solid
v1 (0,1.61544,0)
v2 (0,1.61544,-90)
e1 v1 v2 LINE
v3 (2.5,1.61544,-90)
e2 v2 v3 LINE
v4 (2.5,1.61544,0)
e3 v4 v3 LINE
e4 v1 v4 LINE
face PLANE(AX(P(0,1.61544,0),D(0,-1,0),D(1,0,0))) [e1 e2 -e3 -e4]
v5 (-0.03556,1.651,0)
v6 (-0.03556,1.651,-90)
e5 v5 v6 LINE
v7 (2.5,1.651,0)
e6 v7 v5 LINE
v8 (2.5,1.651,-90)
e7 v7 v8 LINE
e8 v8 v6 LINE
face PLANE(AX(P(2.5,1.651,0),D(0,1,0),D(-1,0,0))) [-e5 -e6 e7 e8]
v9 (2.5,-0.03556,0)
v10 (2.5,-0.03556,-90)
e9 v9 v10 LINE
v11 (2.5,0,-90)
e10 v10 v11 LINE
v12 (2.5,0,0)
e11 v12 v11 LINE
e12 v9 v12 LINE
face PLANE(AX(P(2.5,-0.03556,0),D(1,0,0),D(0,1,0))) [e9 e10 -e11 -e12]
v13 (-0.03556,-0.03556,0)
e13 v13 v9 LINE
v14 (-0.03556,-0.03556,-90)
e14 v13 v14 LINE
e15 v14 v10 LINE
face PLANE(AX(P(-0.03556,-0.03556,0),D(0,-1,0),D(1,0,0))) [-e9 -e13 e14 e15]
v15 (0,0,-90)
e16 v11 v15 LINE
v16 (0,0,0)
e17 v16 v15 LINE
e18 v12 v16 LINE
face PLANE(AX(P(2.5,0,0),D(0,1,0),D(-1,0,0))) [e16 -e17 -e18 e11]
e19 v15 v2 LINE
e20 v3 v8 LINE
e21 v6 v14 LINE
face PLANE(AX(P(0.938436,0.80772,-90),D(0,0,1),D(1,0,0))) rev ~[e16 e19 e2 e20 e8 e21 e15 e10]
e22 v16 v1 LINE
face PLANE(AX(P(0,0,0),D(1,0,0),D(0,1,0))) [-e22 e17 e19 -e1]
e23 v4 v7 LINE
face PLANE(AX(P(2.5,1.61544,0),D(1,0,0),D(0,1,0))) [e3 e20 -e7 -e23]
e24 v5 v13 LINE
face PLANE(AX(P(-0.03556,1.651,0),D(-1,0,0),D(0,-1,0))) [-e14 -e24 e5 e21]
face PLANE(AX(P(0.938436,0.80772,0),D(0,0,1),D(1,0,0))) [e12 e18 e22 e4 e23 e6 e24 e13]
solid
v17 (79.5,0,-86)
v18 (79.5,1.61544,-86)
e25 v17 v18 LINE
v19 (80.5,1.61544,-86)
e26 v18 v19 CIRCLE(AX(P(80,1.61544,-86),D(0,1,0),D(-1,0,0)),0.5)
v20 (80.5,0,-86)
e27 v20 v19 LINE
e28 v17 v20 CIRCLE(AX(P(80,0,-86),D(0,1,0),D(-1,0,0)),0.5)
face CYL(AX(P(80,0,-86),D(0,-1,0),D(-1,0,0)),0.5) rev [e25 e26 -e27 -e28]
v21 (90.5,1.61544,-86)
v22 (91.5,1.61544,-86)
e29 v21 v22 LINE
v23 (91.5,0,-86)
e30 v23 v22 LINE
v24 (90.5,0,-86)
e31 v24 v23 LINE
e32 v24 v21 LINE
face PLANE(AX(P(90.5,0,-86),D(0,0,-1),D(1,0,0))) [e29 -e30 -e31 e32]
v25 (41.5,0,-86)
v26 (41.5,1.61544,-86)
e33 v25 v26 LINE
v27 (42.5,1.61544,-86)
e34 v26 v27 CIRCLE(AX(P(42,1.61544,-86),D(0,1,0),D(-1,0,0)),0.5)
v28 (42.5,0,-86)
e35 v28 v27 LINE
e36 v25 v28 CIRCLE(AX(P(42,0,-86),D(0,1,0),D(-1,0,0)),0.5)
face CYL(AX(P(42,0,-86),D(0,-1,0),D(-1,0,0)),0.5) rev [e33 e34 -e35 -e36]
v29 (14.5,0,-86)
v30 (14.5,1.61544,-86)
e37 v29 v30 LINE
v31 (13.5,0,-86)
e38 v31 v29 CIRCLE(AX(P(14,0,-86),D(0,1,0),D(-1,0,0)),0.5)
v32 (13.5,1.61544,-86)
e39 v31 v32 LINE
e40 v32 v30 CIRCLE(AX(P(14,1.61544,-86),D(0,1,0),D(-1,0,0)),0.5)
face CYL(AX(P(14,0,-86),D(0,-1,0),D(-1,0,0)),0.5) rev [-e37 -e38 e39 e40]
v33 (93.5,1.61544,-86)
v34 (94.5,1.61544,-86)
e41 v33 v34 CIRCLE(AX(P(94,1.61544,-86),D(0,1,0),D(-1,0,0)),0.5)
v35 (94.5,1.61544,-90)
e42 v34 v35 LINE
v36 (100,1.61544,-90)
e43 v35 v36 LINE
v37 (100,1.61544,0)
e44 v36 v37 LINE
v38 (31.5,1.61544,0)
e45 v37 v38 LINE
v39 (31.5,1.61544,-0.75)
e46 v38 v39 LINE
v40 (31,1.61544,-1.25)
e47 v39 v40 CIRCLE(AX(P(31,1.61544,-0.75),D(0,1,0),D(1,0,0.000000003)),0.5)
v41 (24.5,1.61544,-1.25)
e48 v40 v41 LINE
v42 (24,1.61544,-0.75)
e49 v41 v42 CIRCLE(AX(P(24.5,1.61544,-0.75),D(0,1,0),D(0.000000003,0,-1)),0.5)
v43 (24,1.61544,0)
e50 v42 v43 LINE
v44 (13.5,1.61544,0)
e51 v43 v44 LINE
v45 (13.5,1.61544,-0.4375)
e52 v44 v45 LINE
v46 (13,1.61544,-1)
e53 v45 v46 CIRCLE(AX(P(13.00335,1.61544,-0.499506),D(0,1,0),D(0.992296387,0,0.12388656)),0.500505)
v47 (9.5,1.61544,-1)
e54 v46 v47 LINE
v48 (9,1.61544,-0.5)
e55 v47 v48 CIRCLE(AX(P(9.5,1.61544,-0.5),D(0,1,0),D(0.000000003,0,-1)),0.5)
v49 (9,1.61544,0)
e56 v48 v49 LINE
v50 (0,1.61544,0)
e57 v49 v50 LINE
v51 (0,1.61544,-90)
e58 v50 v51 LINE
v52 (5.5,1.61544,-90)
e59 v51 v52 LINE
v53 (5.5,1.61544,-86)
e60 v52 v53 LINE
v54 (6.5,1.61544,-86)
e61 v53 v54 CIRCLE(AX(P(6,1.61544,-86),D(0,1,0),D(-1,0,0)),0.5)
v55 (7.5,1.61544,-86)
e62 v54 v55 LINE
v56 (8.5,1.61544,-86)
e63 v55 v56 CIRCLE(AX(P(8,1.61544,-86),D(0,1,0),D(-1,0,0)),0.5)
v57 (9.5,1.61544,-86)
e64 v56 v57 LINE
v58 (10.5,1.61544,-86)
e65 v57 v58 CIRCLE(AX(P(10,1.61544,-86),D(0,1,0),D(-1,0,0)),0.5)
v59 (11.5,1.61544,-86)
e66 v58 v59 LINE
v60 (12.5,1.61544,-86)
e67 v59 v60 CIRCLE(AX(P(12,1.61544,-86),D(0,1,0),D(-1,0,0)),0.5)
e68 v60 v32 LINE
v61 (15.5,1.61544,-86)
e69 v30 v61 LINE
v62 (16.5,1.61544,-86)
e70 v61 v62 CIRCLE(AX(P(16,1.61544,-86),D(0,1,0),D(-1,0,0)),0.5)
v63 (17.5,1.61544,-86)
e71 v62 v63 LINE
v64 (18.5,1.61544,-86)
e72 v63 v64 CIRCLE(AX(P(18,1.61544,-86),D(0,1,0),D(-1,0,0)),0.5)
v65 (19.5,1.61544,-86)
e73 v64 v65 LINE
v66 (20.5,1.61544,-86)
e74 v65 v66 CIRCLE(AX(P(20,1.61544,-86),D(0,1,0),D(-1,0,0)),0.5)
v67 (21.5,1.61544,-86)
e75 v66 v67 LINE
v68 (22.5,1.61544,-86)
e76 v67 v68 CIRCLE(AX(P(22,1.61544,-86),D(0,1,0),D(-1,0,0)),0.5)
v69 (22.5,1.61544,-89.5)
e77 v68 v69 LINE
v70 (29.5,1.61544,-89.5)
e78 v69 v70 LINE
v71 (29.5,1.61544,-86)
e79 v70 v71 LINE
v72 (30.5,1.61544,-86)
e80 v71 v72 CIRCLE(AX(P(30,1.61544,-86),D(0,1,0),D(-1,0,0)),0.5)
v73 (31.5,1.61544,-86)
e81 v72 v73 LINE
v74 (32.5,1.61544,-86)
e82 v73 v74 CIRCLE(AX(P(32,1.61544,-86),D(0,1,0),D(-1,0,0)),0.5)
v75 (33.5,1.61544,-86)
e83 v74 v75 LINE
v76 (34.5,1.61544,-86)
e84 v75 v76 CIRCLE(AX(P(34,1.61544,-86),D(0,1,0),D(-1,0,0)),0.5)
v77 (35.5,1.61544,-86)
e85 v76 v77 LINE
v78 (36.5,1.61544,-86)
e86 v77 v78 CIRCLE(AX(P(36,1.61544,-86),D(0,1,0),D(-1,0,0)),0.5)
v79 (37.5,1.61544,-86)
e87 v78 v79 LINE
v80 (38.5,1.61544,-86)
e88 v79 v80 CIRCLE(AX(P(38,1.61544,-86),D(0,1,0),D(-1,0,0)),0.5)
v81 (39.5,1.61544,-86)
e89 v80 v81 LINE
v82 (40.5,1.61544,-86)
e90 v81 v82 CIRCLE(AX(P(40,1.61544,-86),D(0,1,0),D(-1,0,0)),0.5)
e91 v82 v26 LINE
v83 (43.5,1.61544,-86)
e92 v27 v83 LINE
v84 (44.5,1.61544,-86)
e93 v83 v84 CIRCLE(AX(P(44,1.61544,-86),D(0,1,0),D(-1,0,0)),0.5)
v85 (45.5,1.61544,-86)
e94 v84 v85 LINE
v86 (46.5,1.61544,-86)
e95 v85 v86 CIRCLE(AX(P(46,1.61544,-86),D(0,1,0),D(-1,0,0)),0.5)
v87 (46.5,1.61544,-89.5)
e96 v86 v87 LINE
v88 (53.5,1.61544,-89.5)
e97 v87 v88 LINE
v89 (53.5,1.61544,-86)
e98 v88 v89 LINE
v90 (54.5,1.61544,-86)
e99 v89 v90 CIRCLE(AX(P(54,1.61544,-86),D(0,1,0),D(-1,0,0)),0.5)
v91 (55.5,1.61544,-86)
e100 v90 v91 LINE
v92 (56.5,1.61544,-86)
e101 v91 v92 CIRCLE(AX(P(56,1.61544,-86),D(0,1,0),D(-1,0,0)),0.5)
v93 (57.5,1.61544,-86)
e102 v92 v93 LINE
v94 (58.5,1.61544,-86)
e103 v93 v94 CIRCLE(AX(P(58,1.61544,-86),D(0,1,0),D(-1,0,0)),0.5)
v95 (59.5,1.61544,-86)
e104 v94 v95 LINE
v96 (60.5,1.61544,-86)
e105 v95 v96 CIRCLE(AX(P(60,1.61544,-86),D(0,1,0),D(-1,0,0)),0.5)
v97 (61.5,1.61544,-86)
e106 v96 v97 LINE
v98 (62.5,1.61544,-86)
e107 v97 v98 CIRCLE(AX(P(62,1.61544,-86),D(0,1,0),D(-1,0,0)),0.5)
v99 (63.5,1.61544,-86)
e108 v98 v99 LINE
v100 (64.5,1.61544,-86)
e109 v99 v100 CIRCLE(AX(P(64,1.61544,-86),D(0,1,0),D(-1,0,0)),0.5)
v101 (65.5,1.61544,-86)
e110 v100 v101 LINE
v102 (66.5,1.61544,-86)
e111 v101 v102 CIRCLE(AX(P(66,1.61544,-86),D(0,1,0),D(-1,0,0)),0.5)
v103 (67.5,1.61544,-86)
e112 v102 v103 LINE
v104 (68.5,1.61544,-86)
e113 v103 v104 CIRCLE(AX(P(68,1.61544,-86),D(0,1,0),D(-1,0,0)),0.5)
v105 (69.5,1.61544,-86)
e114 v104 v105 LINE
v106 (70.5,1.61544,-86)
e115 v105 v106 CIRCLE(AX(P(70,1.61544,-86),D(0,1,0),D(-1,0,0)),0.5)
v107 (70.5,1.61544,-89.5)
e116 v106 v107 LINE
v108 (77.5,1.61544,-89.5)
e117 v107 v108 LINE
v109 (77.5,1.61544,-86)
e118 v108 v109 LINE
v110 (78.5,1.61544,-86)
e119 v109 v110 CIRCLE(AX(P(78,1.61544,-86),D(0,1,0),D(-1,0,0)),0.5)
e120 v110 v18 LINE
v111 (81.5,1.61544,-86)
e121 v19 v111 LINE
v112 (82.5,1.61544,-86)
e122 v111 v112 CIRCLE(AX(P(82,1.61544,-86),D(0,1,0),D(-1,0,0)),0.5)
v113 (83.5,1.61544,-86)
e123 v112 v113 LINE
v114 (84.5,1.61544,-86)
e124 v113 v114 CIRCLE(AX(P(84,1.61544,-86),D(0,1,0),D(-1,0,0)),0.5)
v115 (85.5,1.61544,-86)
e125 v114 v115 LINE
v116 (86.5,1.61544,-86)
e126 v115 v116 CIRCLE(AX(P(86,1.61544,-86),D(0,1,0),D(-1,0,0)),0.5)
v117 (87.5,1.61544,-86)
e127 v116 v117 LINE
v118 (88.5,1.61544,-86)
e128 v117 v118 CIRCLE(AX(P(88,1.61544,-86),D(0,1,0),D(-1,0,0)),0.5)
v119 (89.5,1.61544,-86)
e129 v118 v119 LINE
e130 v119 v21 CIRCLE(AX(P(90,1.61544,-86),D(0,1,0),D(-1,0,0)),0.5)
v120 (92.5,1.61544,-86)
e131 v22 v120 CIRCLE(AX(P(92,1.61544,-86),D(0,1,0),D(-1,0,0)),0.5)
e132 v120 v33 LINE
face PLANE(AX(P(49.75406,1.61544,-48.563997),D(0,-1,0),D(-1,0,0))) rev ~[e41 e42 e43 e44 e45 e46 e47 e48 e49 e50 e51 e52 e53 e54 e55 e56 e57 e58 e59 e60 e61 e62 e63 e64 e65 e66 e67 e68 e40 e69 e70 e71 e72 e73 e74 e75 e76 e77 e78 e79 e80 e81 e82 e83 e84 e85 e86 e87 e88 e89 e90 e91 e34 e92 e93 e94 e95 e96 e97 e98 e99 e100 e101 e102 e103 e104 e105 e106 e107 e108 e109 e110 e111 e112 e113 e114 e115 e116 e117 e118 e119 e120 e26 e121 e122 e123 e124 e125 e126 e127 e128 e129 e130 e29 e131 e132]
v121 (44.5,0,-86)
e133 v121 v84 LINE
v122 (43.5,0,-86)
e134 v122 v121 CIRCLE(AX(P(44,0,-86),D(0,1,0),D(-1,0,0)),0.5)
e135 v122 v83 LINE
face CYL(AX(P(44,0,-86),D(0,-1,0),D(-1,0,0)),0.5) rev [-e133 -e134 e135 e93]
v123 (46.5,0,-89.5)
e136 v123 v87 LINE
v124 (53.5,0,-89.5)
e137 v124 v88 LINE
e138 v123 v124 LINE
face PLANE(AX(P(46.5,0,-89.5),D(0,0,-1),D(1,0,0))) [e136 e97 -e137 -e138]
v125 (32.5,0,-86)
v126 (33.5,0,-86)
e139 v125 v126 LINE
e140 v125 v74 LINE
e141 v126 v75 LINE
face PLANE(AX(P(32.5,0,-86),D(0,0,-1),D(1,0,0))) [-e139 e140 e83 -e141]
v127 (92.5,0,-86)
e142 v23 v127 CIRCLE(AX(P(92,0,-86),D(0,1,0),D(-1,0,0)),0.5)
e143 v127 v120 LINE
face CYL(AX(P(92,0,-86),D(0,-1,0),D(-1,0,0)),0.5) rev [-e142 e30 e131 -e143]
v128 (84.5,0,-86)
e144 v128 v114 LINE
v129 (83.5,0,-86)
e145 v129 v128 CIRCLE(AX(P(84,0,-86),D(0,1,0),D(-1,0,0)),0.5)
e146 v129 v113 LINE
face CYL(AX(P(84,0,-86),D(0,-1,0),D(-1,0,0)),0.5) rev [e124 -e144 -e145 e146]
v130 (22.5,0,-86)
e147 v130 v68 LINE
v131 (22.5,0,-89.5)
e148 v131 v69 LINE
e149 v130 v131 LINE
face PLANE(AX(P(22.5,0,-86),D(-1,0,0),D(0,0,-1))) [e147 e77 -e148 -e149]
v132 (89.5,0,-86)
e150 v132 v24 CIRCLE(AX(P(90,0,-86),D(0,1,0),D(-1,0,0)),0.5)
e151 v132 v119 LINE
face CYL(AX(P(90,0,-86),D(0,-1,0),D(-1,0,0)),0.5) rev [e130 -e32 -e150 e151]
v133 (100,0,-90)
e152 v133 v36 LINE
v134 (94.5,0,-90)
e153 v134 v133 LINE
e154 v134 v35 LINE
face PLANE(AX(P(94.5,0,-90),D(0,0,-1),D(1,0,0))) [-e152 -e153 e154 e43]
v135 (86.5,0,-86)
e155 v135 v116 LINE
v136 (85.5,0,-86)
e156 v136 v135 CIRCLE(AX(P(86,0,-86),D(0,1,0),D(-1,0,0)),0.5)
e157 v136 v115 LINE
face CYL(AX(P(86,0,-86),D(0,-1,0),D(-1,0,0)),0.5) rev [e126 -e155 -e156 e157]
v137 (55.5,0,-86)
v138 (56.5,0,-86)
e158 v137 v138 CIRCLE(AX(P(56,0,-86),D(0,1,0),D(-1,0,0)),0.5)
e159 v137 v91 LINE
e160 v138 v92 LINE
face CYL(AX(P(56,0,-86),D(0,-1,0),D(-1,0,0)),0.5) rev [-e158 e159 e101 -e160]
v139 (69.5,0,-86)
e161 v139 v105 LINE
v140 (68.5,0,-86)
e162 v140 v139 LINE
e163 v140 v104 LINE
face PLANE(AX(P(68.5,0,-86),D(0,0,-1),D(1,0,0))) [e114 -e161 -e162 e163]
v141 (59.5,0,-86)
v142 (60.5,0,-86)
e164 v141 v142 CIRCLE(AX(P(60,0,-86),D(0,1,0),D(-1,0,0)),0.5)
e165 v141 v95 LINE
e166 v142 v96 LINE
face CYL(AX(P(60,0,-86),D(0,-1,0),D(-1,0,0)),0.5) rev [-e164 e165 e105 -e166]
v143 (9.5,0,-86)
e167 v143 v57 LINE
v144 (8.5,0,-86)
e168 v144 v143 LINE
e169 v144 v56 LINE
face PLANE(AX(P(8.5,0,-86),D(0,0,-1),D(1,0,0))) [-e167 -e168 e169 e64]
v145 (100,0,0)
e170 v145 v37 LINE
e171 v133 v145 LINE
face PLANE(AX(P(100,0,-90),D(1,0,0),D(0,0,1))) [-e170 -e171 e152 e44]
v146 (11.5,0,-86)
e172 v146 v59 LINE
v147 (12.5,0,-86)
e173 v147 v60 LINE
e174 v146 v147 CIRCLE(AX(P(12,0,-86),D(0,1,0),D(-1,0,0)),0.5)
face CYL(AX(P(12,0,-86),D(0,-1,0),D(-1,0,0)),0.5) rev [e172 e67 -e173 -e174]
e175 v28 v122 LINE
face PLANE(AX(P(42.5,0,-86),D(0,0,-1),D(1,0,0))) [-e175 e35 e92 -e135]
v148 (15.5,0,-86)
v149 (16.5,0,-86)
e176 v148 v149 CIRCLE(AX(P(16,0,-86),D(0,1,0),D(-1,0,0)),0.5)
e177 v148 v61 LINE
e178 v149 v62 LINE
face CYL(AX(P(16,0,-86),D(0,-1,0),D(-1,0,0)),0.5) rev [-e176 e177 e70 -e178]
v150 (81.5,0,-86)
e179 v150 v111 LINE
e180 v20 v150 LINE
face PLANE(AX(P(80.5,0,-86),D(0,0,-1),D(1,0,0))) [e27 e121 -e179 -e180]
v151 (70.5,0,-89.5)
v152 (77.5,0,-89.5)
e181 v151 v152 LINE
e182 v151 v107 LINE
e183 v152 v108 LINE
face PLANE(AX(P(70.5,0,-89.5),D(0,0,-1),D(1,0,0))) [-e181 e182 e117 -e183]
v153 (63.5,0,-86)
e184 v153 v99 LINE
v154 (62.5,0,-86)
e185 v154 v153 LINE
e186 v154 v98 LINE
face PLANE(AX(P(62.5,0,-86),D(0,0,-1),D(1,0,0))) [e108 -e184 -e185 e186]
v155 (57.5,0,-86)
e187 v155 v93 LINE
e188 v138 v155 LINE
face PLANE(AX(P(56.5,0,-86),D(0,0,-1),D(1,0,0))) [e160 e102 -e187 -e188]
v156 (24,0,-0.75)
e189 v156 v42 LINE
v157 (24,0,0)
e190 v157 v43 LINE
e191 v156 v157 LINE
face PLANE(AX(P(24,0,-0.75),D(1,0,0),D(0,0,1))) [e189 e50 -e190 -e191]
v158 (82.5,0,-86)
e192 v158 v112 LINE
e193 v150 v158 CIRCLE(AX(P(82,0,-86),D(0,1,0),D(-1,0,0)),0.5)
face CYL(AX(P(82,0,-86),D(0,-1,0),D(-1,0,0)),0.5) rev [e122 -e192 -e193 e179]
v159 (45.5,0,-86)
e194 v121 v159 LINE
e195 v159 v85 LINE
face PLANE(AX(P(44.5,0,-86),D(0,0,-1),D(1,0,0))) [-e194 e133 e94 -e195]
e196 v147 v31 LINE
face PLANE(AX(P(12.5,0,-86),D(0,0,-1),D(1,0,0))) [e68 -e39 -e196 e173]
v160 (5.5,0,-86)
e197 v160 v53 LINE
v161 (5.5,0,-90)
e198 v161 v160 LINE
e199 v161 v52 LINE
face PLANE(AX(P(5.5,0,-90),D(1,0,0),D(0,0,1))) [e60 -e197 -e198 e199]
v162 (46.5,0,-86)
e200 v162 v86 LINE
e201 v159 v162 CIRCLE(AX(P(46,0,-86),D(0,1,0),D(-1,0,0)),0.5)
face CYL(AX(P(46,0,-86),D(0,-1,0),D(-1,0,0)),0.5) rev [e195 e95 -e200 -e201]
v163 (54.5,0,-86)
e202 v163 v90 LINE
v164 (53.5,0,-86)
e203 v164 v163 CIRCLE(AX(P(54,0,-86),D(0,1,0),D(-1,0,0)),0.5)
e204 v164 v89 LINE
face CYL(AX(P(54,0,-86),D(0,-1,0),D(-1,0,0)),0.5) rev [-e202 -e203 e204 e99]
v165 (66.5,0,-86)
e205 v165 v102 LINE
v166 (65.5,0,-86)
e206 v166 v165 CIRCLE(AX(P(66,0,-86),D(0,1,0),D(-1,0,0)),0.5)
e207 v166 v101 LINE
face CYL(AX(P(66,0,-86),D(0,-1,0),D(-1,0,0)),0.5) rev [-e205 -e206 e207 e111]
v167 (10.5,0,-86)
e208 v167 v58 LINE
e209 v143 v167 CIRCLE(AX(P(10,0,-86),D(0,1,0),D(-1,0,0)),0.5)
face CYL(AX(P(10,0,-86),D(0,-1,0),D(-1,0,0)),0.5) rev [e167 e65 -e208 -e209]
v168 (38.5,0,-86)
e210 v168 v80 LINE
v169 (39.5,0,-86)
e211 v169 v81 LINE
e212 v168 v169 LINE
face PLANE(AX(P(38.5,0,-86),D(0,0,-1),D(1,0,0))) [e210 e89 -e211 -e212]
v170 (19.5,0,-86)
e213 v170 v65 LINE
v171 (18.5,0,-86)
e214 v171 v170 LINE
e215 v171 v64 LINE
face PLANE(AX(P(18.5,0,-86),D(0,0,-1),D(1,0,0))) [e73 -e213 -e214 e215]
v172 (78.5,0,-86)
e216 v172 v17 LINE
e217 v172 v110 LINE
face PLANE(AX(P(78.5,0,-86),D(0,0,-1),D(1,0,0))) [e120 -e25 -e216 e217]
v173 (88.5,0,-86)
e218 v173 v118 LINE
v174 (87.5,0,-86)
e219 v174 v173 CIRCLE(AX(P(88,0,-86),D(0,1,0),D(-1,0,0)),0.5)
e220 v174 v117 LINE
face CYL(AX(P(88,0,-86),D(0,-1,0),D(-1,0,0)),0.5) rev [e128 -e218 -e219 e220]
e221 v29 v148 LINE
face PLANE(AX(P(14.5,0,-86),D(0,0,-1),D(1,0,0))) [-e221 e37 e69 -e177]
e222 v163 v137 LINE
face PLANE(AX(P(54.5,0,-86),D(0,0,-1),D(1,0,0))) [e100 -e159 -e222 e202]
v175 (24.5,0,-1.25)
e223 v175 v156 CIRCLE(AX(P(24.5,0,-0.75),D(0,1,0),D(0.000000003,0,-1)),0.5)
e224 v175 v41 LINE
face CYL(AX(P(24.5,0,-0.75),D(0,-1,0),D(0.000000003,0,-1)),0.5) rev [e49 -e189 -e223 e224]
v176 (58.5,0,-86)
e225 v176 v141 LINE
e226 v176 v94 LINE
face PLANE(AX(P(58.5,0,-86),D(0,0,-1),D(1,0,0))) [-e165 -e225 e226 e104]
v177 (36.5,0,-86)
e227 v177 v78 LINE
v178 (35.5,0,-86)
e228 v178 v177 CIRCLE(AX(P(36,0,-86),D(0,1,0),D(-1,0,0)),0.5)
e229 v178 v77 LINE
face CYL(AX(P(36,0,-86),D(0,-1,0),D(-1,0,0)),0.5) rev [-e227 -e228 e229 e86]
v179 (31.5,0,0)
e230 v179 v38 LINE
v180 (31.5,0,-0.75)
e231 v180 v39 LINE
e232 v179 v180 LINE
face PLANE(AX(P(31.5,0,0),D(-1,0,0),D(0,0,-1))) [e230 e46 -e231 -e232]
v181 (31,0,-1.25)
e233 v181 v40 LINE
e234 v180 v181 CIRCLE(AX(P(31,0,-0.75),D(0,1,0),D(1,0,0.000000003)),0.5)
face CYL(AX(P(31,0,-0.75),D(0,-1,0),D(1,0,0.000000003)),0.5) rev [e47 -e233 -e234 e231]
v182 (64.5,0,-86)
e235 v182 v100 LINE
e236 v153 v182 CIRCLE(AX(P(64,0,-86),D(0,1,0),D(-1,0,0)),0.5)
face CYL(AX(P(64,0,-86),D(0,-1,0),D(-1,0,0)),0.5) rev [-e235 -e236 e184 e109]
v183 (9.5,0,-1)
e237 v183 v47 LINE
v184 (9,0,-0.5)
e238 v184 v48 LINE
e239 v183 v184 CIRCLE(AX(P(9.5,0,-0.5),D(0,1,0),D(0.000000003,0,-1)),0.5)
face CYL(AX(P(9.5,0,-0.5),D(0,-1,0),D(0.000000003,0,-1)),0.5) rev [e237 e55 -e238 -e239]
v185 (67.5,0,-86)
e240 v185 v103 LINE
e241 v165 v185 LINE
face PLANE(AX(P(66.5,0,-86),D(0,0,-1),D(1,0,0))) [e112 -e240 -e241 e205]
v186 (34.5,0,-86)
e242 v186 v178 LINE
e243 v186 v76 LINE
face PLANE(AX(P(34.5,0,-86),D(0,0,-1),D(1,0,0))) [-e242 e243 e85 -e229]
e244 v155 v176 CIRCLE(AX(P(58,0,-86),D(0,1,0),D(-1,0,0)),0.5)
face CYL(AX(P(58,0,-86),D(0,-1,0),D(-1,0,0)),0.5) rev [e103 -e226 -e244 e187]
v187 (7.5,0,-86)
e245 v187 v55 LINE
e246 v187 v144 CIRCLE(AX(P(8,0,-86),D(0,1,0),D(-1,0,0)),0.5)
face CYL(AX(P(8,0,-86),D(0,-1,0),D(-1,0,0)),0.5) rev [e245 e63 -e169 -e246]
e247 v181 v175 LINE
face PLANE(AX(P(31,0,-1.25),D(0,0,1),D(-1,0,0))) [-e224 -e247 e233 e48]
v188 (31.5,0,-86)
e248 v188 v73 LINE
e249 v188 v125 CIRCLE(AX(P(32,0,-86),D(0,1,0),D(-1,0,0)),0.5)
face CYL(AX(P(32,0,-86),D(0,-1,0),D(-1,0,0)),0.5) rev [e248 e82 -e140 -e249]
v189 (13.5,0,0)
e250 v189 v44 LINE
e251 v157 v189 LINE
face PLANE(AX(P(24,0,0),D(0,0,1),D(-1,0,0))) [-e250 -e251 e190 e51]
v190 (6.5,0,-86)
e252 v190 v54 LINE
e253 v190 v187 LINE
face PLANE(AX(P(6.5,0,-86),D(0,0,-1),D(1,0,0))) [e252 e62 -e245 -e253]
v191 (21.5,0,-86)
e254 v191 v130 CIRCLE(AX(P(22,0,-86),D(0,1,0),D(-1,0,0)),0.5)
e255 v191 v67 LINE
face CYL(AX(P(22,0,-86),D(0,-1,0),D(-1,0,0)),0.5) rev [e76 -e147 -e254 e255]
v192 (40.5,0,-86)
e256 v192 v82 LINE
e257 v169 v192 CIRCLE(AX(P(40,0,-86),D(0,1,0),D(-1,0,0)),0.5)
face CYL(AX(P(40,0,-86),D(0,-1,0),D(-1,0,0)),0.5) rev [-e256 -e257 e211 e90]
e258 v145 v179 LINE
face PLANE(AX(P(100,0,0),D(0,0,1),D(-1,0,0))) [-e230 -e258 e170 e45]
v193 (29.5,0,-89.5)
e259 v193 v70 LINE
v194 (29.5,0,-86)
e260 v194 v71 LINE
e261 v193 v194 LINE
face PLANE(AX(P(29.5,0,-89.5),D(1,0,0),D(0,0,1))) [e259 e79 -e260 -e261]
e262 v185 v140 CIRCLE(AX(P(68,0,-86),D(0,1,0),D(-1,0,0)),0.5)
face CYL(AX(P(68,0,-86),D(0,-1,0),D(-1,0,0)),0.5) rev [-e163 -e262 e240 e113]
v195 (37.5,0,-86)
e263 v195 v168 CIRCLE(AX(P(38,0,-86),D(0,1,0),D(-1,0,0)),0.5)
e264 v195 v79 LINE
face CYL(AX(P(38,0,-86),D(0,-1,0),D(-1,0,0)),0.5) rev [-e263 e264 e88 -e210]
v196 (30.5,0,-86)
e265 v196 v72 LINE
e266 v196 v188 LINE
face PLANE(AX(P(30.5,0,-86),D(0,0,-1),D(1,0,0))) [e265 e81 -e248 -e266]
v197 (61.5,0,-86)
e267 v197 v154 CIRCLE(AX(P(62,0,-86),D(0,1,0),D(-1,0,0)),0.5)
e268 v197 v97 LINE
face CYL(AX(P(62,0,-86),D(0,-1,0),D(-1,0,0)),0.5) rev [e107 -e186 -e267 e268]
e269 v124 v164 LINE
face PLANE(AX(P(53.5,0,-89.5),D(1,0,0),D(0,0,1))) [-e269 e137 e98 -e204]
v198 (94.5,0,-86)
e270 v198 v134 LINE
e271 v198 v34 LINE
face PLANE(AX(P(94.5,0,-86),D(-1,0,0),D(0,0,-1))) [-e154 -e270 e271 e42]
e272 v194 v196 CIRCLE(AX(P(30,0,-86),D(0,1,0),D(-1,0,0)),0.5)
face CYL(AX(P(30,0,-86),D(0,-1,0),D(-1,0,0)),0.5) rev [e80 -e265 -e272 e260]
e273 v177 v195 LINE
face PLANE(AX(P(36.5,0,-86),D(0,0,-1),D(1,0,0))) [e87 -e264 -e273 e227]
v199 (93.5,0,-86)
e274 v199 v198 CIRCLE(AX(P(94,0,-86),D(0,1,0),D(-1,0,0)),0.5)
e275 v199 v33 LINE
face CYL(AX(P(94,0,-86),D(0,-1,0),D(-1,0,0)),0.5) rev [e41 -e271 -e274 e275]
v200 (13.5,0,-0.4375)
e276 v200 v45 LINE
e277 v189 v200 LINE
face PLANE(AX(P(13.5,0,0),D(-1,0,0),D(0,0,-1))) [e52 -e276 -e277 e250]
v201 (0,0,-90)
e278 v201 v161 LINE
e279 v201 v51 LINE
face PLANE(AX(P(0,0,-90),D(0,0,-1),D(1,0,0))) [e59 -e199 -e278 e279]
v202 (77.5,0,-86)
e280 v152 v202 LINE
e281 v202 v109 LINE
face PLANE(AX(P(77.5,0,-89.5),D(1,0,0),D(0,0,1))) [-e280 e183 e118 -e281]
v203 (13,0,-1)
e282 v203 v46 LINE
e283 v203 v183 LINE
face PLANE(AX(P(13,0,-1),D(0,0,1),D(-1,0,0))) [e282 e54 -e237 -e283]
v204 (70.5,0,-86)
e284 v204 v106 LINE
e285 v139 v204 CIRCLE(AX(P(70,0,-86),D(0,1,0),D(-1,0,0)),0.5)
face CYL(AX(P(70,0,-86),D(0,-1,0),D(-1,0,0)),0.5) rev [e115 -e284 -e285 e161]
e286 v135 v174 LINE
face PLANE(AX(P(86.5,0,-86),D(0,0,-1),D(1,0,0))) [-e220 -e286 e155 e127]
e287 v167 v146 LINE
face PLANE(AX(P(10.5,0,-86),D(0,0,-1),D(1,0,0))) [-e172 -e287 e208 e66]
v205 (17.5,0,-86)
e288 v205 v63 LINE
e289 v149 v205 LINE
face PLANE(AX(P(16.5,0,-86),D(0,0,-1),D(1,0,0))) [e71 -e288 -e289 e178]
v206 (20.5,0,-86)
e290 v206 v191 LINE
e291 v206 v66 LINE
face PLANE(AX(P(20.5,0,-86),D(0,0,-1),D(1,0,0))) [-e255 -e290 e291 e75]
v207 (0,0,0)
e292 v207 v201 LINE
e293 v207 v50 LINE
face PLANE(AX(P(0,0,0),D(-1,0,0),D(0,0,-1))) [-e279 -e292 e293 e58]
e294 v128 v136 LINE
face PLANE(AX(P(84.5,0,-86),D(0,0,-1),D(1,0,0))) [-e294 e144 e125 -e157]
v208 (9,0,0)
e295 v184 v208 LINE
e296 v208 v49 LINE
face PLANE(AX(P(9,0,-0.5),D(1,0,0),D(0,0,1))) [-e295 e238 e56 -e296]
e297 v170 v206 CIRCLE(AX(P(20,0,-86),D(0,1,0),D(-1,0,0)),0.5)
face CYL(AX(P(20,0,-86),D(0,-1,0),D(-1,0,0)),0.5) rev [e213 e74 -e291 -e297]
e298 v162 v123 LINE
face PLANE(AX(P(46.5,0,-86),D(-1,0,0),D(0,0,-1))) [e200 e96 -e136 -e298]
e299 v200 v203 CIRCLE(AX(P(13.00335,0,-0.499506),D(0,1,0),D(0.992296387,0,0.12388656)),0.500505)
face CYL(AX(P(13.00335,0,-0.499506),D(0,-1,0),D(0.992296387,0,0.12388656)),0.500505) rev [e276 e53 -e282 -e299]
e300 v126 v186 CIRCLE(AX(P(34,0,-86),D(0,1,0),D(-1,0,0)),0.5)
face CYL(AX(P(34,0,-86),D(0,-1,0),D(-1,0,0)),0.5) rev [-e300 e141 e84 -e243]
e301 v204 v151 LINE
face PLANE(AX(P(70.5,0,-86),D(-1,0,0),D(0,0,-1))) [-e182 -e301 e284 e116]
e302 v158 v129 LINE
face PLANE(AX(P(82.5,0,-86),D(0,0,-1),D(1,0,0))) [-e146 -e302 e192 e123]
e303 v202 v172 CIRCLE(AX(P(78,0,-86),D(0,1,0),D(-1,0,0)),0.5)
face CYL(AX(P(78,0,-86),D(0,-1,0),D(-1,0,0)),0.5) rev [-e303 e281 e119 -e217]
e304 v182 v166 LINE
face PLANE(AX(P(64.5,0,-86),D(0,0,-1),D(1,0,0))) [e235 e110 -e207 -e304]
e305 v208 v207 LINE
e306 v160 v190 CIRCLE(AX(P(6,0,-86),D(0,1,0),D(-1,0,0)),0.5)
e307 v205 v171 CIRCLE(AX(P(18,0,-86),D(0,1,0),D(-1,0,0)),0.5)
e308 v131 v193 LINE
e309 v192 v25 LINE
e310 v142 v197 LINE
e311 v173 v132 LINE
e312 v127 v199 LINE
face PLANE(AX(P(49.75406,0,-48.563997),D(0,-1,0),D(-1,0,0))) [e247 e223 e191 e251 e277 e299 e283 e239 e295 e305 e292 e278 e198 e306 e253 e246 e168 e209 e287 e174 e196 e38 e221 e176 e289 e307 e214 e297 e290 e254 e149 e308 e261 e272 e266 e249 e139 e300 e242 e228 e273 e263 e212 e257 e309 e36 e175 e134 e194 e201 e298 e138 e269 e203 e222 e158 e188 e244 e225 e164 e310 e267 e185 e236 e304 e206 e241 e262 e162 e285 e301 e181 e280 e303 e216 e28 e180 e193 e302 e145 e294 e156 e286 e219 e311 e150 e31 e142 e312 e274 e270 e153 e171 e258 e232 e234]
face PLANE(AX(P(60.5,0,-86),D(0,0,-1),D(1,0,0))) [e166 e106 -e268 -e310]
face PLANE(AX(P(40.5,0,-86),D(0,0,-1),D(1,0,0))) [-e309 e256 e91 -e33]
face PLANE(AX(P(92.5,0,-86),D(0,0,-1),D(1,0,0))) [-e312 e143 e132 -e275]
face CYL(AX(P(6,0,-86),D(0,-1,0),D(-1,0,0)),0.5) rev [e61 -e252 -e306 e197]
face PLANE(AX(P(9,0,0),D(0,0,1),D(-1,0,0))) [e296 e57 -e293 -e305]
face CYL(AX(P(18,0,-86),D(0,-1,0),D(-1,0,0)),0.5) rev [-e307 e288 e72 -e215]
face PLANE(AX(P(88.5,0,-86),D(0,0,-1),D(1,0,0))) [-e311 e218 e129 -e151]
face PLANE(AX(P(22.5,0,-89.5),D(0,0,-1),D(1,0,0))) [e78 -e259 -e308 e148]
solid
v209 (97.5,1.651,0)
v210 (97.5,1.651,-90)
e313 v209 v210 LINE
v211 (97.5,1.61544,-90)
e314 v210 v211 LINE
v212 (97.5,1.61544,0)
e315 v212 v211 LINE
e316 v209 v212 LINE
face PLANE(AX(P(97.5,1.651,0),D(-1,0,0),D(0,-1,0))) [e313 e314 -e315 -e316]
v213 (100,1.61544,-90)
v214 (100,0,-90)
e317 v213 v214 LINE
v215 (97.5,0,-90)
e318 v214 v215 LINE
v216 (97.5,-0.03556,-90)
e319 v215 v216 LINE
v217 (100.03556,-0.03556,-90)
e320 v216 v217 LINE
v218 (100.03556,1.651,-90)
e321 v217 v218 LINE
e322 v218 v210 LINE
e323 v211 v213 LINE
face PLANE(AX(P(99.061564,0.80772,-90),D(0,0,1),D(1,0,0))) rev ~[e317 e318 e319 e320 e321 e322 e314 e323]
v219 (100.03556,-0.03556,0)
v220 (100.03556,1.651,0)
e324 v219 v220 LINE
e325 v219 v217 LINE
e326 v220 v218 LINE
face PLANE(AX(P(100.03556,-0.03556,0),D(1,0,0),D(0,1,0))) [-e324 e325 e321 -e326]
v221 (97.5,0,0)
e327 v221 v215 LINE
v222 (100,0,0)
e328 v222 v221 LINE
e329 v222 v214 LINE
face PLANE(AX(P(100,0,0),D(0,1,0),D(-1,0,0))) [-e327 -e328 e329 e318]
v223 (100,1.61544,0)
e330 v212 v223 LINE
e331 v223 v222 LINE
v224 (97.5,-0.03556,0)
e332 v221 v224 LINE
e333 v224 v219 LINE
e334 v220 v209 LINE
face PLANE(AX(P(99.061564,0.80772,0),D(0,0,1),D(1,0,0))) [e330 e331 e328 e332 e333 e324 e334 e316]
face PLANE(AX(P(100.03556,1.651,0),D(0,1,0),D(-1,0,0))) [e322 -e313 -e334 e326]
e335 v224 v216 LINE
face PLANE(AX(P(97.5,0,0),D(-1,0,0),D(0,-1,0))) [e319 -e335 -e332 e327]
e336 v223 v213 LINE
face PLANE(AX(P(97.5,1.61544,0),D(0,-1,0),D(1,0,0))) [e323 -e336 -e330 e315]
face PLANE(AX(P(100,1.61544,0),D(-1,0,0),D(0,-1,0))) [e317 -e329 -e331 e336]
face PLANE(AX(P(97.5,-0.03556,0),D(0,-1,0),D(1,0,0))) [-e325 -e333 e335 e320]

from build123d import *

# Parameters (mm, degrees)
FR4_DEPTH            = 1.61544
GOLD_PLATING_DEPTH   = 90
GOLD_PLATING_2_DEPTH = 90


with BuildPart() as part:
    # Sketch1 → FR4 (new body)
    with BuildSketch(Plane(origin=(0, 0, 0), x_dir=(1, 0, 0), z_dir=(0, 1, 0))):
        with BuildLine():
            Line((0, 90), (5.5, 90))
            Line((5.5, 90), (5.5, 86))
            ThreePointArc((5.5, 86), (6, 85.5), (6.5, 86))
            Line((6.5, 86), (7.5, 86))
            ThreePointArc((7.5, 86), (8, 85.5), (8.5, 86))
            Line((8.5, 86), (9.5, 86))
            ThreePointArc((9.5, 86), (10, 85.5), (10.5, 86))
            Line((10.5, 86), (11.5, 86))
            ThreePointArc((11.5, 86), (12, 85.5), (12.5, 86))
            Line((12.5, 86), (13.5, 86))
            ThreePointArc((13.5, 86), (14, 85.5), (14.5, 86))
            Line((14.5, 86), (15.5, 86))
            ThreePointArc((15.5, 86), (16, 85.5), (16.5, 86))
            Line((16.5, 86), (17.5, 86))
            ThreePointArc((17.5, 86), (18, 85.5), (18.5, 86))
            Line((18.5, 86), (19.5, 86))
            ThreePointArc((19.5, 86), (20, 85.5), (20.5, 86))
            Line((20.5, 86), (21.5, 86))
            ThreePointArc((21.5, 86), (22, 85.5), (22.5, 86))
            Line((22.5, 86), (22.5, 89.5))
            Line((22.5, 89.5), (29.5, 89.5))
            Line((29.5, 89.5), (29.5, 86))
            ThreePointArc((29.5, 86), (30, 85.5), (30.5, 86))
            Line((30.5, 86), (31.5, 86))
            ThreePointArc((31.5, 86), (32, 85.5), (32.5, 86))
            Line((32.5, 86), (33.5, 86))
            ThreePointArc((33.5, 86), (34, 85.5), (34.5, 86))
            Line((34.5, 86), (35.5, 86))
            ThreePointArc((35.5, 86), (36, 85.5), (36.5, 86))
            Line((36.5, 86), (37.5, 86))
            ThreePointArc((37.5, 86), (38, 85.5), (38.5, 86))
            Line((38.5, 86), (39.5, 86))
            ThreePointArc((39.5, 86), (40, 85.5), (40.5, 86))
            Line((40.5, 86), (41.5, 86))
            ThreePointArc((41.5, 86), (42, 85.5), (42.5, 86))
            Line((42.5, 86), (43.5, 86))
            ThreePointArc((43.5, 86), (44, 85.5), (44.5, 86))
            Line((44.5, 86), (45.5, 86))
            ThreePointArc((45.5, 86), (46, 85.5), (46.5, 86))
            Line((46.5, 86), (46.5, 89.5))
            Line((46.5, 89.5), (53.5, 89.5))
            Line((53.5, 89.5), (53.5, 86))
            ThreePointArc((53.5, 86), (54, 85.5), (54.5, 86))
            Line((54.5, 86), (55.5, 86))
            ThreePointArc((55.5, 86), (56, 85.5), (56.5, 86))
            Line((56.5, 86), (57.5, 86))
            ThreePointArc((57.5, 86), (58, 85.5), (58.5, 86))
            Line((58.5, 86), (59.5, 86))
            ThreePointArc((59.5, 86), (60, 85.5), (60.5, 86))
            Line((60.5, 86), (61.5, 86))
            ThreePointArc((61.5, 86), (62, 85.5), (62.5, 86))
            Line((62.5, 86), (63.5, 86))
            ThreePointArc((63.5, 86), (64, 85.5), (64.5, 86))
            Line((64.5, 86), (65.5, 86))
            ThreePointArc((65.5, 86), (66, 85.5), (66.5, 86))
            Line((66.5, 86), (67.5, 86))
            ThreePointArc((67.5, 86), (68, 85.5), (68.5, 86))
            Line((68.5, 86), (69.5, 86))
            ThreePointArc((69.5, 86), (70, 85.5), (70.5, 86))
            Line((70.5, 86), (70.5, 89.5))
            Line((70.5, 89.5), (77.5, 89.5))
            Line((77.5, 89.5), (77.5, 86))
            ThreePointArc((77.5, 86), (78, 85.5), (78.5, 86))
            Line((78.5, 86), (79.5, 86))
            ThreePointArc((79.5, 86), (80, 85.5), (80.5, 86))
            Line((80.5, 86), (81.5, 86))
            ThreePointArc((81.5, 86), (82, 85.5), (82.5, 86))
            Line((82.5, 86), (83.5, 86))
            ThreePointArc((83.5, 86), (84, 85.5), (84.5, 86))
            Line((84.5, 86), (85.5, 86))
            ThreePointArc((85.5, 86), (86, 85.5), (86.5, 86))
            Line((86.5, 86), (87.5, 86))
            ThreePointArc((87.5, 86), (88, 85.5), (88.5, 86))
            Line((88.5, 86), (89.5, 86))
            ThreePointArc((89.5, 86), (90, 85.5), (90.5, 86))
            Line((90.5, 86), (91.5, 86))
            ThreePointArc((91.5, 86), (92, 85.5), (92.5, 86))
            Line((92.5, 86), (93.5, 86))
            ThreePointArc((93.5, 86), (94, 85.5), (94.5, 86))
            Line((94.5, 86), (94.5, 90))
            Line((94.5, 90), (100, 90))
            Line((100, 90), (100, 0))
            Line((100, 0), (31.5, 0))
            Line((31.5, 0), (31.5, 0.75))
            ThreePointArc((31.5, 0.75), (31.353553391, 1.103553391), (31, 1.25))
            Line((31, 1.25), (24.5, 1.25))
            ThreePointArc((24.5, 1.25), (24.146446609, 1.103553391), (24, 0.75))
            Line((24, 0.75), (24, 0))
            Line((24, 0), (13.5, 0))
            Line((13.5, 0), (13.5, 0.4375))
            ThreePointArc((13.5, 0.4375), (13.377432717, 0.832023526), (13, 1))
            Line((13, 1), (9.5, 1))
            ThreePointArc((9.5, 1), (9.146446609, 0.853553391), (9, 0.5))
            Line((9, 0.5), (9, 0))
            Line((9, 0), (0, 0))
            Line((0, 0), (0, 90))
        make_face()
    extrude(amount=FR4_DEPTH)


with BuildPart() as body_2:
    # Sketch2 → gold-plating (new body, through all)
    with BuildSketch(Plane.XY):
        Polygon((2.5, 1.61544), (2.5, 1.651), (-0.03556, 1.651), (-0.03556, -0.03556), (2.5, -0.03556), (2.5, 0), (0, 0), (0, 1.61544), align=None)
    extrude(amount=-GOLD_PLATING_DEPTH)


with BuildPart() as body_3:
    # Sketch2 → gold-plating 2 (new body, through all)
    with BuildSketch(Plane.XY):
        Polygon((100, 1.61544), (100, 0), (97.5, 0), (97.5, -0.03556), (100.03556, -0.03556), (100.03556, 1.651), (97.5, 1.651), (97.5, 1.61544), align=None)
    extrude(amount=-GOLD_PLATING_2_DEPTH)


solid = Compound([part.part, body_2.part, body_3.part])
